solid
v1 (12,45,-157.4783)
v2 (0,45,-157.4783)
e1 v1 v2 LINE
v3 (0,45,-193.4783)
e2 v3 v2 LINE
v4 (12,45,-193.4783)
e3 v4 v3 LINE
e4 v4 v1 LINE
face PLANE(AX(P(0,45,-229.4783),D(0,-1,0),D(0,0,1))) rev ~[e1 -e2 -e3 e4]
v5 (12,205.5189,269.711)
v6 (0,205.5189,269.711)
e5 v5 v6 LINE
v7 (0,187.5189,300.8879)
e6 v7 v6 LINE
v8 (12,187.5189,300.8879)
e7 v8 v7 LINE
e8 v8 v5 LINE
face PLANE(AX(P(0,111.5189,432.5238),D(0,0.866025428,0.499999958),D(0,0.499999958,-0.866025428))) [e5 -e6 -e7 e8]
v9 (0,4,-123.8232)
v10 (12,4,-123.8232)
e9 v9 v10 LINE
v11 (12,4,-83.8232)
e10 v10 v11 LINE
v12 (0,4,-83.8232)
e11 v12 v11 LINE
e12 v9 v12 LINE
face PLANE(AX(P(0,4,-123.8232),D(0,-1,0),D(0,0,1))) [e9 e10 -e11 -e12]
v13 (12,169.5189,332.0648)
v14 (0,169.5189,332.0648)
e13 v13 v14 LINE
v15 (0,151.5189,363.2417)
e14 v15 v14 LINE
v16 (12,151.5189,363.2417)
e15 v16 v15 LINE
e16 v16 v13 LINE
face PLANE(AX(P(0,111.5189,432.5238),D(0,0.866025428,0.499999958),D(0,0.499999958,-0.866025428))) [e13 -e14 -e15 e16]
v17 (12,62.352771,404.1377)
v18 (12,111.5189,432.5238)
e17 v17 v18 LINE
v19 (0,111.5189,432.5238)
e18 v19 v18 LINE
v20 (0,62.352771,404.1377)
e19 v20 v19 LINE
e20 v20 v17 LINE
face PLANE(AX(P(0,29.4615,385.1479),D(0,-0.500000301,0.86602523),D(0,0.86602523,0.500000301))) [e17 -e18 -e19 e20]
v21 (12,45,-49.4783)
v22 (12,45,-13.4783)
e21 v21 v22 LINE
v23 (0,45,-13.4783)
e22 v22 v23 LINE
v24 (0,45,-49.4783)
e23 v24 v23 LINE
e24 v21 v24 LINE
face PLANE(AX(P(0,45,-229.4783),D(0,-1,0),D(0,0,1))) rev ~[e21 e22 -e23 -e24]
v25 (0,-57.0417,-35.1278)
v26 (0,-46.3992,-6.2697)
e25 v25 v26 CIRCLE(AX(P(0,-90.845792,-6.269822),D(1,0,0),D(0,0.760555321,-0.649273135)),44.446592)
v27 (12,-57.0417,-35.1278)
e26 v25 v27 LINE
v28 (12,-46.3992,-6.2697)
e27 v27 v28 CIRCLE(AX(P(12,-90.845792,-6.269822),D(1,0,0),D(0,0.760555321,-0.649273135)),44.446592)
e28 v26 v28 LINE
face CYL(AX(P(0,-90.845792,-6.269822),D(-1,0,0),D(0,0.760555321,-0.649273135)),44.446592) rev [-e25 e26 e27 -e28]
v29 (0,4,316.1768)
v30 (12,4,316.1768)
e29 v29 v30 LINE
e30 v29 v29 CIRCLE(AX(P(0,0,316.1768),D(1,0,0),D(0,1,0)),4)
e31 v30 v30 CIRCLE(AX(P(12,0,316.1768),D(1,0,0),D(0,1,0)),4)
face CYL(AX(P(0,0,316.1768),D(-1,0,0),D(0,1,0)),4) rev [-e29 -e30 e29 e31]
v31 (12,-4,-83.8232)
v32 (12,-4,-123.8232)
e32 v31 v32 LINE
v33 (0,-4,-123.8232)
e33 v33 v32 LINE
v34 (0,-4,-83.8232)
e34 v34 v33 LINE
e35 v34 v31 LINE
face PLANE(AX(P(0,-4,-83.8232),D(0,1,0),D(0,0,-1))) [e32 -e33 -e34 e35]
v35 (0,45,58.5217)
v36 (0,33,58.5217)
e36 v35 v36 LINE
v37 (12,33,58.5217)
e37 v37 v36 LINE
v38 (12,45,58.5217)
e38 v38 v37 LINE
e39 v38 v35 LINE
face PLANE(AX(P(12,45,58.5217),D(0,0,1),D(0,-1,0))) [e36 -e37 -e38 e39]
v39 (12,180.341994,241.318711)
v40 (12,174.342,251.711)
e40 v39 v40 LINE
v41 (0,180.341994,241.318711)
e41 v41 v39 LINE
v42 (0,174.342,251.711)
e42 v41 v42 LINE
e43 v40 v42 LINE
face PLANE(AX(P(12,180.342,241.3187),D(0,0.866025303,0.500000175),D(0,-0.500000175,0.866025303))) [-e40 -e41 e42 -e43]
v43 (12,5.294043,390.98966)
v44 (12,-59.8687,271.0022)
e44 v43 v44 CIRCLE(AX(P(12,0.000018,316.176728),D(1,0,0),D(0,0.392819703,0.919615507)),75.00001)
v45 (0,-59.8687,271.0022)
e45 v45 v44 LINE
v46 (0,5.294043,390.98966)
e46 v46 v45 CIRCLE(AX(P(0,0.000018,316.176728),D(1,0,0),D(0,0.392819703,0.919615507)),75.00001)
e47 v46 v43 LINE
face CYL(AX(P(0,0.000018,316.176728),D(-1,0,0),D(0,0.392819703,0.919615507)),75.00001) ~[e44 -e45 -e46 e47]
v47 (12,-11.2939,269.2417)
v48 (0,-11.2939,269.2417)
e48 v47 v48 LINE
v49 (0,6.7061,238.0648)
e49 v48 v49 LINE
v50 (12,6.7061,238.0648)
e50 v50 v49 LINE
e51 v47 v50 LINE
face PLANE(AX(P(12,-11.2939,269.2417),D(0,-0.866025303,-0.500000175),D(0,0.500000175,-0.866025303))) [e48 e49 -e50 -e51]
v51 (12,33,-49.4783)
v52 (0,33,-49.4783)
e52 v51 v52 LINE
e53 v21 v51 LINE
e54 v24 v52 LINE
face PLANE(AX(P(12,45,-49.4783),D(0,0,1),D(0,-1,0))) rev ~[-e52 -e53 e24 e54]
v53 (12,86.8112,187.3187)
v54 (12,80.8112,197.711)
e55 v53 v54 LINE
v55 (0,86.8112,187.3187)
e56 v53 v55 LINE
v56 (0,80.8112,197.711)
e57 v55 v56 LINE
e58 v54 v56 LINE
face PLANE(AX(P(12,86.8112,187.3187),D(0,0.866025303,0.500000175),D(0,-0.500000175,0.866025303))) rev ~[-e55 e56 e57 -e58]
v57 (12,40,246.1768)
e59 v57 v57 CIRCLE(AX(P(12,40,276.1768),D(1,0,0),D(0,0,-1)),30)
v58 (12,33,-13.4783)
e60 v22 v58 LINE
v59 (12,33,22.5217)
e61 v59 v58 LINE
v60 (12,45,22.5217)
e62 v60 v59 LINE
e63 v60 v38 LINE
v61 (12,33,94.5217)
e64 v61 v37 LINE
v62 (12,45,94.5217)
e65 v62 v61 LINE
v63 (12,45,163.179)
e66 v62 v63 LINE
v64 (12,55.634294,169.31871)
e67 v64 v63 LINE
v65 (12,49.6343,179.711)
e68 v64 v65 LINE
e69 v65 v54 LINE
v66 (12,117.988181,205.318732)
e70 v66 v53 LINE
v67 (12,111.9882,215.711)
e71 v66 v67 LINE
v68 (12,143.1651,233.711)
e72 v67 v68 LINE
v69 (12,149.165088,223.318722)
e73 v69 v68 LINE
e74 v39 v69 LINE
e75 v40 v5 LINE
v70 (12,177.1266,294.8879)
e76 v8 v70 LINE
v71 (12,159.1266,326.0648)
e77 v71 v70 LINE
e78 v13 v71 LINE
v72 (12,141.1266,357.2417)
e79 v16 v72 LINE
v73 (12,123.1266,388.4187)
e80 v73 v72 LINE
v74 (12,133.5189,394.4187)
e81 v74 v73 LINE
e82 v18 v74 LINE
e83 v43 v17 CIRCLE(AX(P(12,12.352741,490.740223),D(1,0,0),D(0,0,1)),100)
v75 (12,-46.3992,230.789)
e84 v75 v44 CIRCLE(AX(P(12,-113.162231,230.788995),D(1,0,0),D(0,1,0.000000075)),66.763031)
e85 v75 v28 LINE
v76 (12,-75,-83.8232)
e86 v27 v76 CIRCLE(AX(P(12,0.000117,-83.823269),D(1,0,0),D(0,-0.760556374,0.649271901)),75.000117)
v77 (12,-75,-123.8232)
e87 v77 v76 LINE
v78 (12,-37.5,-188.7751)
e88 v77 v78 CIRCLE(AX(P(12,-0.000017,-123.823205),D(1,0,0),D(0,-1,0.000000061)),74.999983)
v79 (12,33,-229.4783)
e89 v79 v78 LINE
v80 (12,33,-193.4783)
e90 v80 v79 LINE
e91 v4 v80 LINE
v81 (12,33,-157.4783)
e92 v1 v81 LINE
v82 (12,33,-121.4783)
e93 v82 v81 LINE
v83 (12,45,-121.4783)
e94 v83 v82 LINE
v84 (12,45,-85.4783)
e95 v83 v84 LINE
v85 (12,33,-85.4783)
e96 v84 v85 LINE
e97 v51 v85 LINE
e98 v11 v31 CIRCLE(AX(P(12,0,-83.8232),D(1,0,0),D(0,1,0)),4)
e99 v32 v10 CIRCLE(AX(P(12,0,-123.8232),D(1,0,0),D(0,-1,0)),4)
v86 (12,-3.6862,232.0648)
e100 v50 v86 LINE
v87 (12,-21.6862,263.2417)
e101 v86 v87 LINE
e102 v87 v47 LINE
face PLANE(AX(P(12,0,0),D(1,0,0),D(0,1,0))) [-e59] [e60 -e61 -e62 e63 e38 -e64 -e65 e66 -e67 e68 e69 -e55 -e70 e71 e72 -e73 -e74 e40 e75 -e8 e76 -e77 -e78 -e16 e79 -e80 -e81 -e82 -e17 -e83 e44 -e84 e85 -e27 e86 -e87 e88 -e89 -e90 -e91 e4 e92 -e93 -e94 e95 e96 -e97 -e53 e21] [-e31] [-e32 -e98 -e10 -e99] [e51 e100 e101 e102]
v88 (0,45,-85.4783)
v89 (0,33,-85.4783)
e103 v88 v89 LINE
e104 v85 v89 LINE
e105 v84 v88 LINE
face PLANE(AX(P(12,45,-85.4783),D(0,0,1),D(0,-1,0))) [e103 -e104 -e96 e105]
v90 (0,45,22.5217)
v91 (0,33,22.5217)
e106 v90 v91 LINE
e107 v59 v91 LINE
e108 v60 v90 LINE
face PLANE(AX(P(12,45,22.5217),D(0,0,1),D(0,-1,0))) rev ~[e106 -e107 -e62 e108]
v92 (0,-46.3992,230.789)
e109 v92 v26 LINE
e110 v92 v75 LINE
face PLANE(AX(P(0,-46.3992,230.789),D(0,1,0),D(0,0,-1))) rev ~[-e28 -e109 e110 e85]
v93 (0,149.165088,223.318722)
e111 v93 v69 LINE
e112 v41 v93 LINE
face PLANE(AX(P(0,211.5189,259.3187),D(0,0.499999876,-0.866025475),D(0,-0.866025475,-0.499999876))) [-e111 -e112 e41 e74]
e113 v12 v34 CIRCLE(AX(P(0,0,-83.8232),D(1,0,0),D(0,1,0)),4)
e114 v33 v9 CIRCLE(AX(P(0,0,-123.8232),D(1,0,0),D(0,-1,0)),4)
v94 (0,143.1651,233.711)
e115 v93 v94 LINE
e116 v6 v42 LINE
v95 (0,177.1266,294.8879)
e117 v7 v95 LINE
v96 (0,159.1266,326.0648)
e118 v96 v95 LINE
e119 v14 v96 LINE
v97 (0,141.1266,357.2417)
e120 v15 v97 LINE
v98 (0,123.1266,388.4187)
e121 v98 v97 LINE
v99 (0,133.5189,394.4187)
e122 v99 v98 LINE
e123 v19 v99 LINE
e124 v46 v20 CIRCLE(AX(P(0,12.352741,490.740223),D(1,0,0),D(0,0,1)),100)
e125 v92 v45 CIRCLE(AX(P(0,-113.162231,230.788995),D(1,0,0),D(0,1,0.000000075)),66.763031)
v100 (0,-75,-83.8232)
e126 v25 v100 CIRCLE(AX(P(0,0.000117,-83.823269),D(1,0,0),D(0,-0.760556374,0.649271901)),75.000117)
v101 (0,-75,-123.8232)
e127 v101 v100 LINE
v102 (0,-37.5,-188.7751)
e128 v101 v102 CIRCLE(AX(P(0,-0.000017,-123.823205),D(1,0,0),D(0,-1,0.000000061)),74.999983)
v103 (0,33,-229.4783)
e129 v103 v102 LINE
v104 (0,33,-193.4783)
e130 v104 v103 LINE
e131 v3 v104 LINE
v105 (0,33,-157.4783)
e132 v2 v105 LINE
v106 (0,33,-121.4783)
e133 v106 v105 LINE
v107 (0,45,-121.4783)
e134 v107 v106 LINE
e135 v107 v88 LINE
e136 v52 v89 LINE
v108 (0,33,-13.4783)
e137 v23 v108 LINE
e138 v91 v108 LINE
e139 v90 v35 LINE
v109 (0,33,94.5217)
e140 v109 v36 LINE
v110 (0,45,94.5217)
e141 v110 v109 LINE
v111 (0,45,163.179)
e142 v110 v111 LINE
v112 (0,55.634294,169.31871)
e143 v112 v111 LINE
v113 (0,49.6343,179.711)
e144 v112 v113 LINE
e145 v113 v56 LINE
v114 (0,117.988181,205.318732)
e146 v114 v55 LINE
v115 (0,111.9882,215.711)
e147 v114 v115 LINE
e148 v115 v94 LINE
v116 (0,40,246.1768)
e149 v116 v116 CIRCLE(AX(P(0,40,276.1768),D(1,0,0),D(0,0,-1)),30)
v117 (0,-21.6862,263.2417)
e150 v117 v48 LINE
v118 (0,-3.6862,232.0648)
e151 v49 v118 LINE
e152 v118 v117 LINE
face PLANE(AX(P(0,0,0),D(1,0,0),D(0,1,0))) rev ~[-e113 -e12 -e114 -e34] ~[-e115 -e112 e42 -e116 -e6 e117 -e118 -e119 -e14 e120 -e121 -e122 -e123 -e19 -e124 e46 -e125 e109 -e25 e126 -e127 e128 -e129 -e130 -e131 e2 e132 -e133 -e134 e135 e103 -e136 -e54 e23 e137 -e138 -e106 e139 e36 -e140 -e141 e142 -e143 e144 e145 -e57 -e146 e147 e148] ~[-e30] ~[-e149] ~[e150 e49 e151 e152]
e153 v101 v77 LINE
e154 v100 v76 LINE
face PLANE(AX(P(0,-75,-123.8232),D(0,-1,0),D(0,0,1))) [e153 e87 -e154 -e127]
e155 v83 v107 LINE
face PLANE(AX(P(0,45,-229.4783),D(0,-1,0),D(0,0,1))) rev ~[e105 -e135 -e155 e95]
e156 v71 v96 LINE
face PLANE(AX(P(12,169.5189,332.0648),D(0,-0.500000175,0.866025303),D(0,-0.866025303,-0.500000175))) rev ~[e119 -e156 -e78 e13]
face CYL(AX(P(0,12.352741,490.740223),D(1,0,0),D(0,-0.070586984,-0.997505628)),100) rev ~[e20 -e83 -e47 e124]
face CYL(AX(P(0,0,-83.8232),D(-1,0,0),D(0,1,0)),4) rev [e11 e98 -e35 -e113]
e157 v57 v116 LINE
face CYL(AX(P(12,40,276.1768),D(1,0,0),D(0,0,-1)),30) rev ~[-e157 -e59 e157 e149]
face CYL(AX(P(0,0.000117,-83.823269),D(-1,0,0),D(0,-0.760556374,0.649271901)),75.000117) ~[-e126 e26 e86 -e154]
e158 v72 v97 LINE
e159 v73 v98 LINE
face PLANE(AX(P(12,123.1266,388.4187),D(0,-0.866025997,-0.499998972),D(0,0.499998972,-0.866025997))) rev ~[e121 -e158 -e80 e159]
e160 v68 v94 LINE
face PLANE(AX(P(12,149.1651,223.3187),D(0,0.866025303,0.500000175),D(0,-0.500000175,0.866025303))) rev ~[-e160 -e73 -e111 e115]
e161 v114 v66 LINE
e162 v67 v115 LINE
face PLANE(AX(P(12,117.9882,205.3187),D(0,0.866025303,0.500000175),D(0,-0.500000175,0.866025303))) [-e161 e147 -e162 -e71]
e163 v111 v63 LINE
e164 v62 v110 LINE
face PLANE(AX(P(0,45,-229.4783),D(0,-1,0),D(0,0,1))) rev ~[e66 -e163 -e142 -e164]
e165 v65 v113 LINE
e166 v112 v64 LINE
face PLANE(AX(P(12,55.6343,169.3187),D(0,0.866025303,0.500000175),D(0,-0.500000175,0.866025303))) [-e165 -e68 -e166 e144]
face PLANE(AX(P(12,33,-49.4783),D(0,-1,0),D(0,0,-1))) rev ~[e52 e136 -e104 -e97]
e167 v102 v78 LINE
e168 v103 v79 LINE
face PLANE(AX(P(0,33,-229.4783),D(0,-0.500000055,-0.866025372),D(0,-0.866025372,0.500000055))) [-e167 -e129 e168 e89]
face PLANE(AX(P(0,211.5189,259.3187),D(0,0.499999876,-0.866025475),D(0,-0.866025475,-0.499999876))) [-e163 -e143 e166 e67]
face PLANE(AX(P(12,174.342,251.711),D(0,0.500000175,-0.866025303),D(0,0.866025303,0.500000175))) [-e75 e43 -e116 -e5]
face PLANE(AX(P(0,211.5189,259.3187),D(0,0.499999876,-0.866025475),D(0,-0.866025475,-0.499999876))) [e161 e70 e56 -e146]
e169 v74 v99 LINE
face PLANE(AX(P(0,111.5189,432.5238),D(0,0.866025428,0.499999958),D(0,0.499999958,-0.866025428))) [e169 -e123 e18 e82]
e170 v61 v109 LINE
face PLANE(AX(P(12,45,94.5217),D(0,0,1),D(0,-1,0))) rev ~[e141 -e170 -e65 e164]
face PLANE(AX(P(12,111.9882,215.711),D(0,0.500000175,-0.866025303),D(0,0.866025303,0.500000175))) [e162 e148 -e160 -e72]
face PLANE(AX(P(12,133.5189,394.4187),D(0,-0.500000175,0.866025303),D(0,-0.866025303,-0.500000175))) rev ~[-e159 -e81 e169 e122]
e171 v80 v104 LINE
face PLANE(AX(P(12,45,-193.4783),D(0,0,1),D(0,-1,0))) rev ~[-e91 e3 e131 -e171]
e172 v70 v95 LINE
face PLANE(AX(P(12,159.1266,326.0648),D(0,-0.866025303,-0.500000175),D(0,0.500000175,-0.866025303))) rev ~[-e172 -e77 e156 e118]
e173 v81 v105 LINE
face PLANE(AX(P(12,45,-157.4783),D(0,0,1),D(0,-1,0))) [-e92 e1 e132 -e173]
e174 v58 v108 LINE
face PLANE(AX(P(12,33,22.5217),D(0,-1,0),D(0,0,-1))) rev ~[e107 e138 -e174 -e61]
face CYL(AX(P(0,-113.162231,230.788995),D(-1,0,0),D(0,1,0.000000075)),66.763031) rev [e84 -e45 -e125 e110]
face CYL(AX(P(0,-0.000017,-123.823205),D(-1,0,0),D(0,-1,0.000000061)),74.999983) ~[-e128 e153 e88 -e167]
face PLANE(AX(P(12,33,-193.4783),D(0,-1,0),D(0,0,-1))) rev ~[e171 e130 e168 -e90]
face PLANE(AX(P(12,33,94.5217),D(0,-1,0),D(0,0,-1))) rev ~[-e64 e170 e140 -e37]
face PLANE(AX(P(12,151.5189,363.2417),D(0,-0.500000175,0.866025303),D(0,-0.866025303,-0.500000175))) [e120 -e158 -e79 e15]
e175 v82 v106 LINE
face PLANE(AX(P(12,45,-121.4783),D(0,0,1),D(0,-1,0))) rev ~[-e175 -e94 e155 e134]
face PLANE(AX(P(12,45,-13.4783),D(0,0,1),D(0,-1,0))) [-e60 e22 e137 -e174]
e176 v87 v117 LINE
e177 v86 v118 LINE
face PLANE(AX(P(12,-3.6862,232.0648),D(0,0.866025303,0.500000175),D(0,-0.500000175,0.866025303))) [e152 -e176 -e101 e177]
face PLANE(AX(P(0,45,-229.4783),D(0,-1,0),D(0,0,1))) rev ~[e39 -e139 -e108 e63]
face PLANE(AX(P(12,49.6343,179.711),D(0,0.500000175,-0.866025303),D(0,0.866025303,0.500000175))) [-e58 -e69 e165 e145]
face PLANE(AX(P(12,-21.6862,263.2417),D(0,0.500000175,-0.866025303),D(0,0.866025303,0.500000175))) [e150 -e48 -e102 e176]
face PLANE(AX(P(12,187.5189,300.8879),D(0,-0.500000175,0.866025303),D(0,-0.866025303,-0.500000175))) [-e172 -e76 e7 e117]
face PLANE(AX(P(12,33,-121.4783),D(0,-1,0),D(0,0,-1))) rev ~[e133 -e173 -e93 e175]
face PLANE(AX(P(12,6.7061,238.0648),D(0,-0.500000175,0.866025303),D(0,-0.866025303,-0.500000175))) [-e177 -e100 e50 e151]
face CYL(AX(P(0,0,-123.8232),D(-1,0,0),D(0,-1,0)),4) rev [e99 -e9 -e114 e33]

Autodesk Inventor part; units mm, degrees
ref_plane "YZ Plane" through (0, 0, 0) normal (1, 0, 0) x (0, 1, 0)
ref_plane "XZ Plane" through (0, 0, 0) normal (0, 1, 0) x (-1, 0, 0)
ref_plane "XY Plane" through (0, 0, 0) normal (0, 0, 1) x (1, 0, 0)
sketch "Sketch1" plane through (0, 0, 0) normal (1, 0, 0) x (0, 1, 0)
  circle A0 centre (0, 316.1768) radius 4
  line L0 (0, -83.8232) -> (0, -123.8232)
  line L1 (-4, -83.8232) -> (-4, -123.8232)
  line L2 (4, -123.8232) -> (4, -83.8232)
  arc A1 (4, -83.8232) -> (-4, -83.8232) centre (0, -83.8232) ccw
  arc A2 (-4, -123.8232) -> (4, -123.8232) centre (0, -123.8232) ccw
  arc A3 (29.4615, 385.1479) -> (-59.8687, 271.0022) centre (0, 316.1768) ccw construction
  line L3 (-75, -123.8232) -> (-75, -83.8232) construction
  line L4 (45, -142.4909) -> (45, -229.6533) construction
  arc A4 (-75, -123.8232) -> (-37.5, -188.7751) centre (0, -123.8232) ccw construction
  circle A5 centre (0, 316.1768) radius 115 construction
  line L5 (-115, -63.8232) -> (-115, -123.8232) construction
  arc A6 (-115, -123.8232) -> (115, -123.8232) centre (0, -123.8232) ccw construction
  line L6 (115, -123.8232) -> (115, -63.8232) construction
  arc A7 (115, -63.8232) -> (-115, -63.8232) centre (0, -83.8232) ccw construction
  line L7 (111.5189, 432.5238) -> (211.5189, 259.3187)
  line L8 (211.5189, 259.3187) -> (45, 163.179)
  circle A8 centre (0, 316.1768) radius 45 construction
  arc A9 (29.4615, 385.1479) -> (-59.8687, 271.0022) centre (0, 316.1768) ccw
  line L9 (-75, -123.8232) -> (-75, -83.8232)
  arc A10 (-57.0417, -35.1278) -> (-75, -83.8232) centre (0, -83.8232) ccw
  arc A11 (-75, -123.8232) -> (-37.5, -188.7751) centre (0, -123.8232) ccw
  line L10 (-46.3992, 230.789) -> (-46.3992, -6.2697)
  arc A12 (-46.3992, 230.789) -> (-59.8687, 271.0022) centre (-113.1622, 230.789) ccw
  arc A13 (-57.0417, -35.1278) -> (-46.3992, -6.2697) centre (-90.846, -6.2697) ccw
  line L11 (45, -229.4783) -> (45, 163.179)
  line L12 (43.5102, 150.8148) -> (13.9439, 202.0253) construction
  line L13 (-38.9711, 293.6768) -> (-61.4711, 332.6479) construction
  line L14 (-61.4711, 332.6479) -> (-22.5, 355.1479) construction
  line L15 (29.4615, 385.1479) -> (111.5189, 432.5238)
  line L16 (45, -229.4783) -> (33, -229.4783)
  line L17 (33, -229.4783) -> (-37.5, -188.7751)
  line L18 (45, 316.1768) -> (45, 281.1768) construction
  line L19 (-75, -123.8232) -> (-75, -83.8232) construction
  arc A14 (75, -83.8232) -> (-75, -83.8232) centre (0, -83.8232) ccw construction
  line L20 (75, -83.8232) -> (75, -123.8232) construction
  arc A15 (-75, -123.8232) -> (75, -123.8232) centre (0, -123.8232) ccw construction
  point P0 (0, 0)
  point P1 (0, -103.8232)
  dimension "d7" = 230
  dimension "d0" = 8
  dimension "d1" = 8
  dimension "d2" = 400
  dimension "d3" = 40
  dimension "d5" = 150
  dimension "d8" = 115
  dimension "d9" = 200
  dimension "d10" = 200
  dimension "d12" = 90
  dimension "d13" = 12
  dimension "d15" = 120
  dimension "d16" = 120
  dimension "d17" = 75
extrude "Extrusion1" add sketch "Sketch1" along normal blind 12
fillet "Fillet1" radius 100 1 edges at (6, 29.4615, 385.1479)
sketch "Sketch2" plane through (12, 0, 0) normal (1, 0, 0) x (0, 0, -1)
  line L0 (229.4783, 45) -> (-163.179, 45) construction
  line L1 (229.4783, 45) -> (193.4783, 45)
  line L2 (193.4783, 45) -> (193.4783, 33)
  line L3 (193.4783, 33) -> (229.4783, 33)
  line L4 (229.4783, 33) -> (229.4783, 45)
  line L5 (-163.179, 45) -> (-259.3187, 211.5189) construction
  line L6 (-432.5238, 111.5189) -> (-404.1377, 62.3528) construction
  line L7 (-259.3187, 211.5189) -> (-432.5238, 111.5189) construction
  line L8 (-432.5238, 111.5189) -> (-332.5238, -61.6862) construction
  line L9 (-332.5238, -61.6862) -> (-159.3187, 38.3138) construction
  line L10 (-159.3187, 38.3138) -> (-259.3187, 211.5189) construction
  line L11 (-259.3187, 211.5189) -> (-241.3187, 180.342)
  line L12 (-241.3187, 180.342) -> (-251.711, 174.342)
  line L13 (-251.711, 174.342) -> (-269.711, 205.5189)
  line L14 (-269.711, 205.5189) -> (-259.3187, 211.5189)
  line L15 (-432.5238, 111.5189) -> (-159.3187, 38.3138) construction
  line L16 (193.4783, 45) -> (157.4783, 45)
  line L17 (157.4783, 33) -> (193.4783, 33)
  line L18 (193.4783, 33) -> (193.4783, 45)
  line L19 (157.4783, 45) -> (157.4783, 33)
  line L20 (157.4783, 45) -> (121.4783, 45)
  line L21 (121.4783, 33) -> (157.4783, 33)
  line L22 (157.4783, 33) -> (157.4783, 45)
  line L23 (121.4783, 45) -> (121.4783, 33)
  line L24 (121.4783, 45) -> (85.4783, 45)
  line L25 (85.4783, 33) -> (121.4783, 33)
  line L26 (121.4783, 33) -> (121.4783, 45)
  line L27 (85.4783, 45) -> (85.4783, 33)
  line L28 (85.4783, 45) -> (49.4783, 45)
  line L29 (49.4783, 33) -> (85.4783, 33)
  line L30 (85.4783, 33) -> (85.4783, 45)
  line L31 (49.4783, 45) -> (49.4783, 33)
  line L32 (49.4783, 45) -> (13.4783, 45)
  line L33 (13.4783, 33) -> (49.4783, 33)
  line L34 (49.4783, 33) -> (49.4783, 45)
  line L35 (13.4783, 45) -> (13.4783, 33)
  line L36 (13.4783, 45) -> (-22.5217, 45)
  line L37 (-22.5217, 33) -> (13.4783, 33)
  line L38 (13.4783, 33) -> (13.4783, 45)
  line L39 (-22.5217, 45) -> (-22.5217, 33)
  line L40 (-22.5217, 45) -> (-58.5217, 45)
  line L41 (-58.5217, 33) -> (-22.5217, 33)
  line L42 (-22.5217, 33) -> (-22.5217, 45)
  line L43 (-58.5217, 45) -> (-58.5217, 33)
  line L44 (-58.5217, 45) -> (-94.5217, 45)
  line L45 (-94.5217, 33) -> (-58.5217, 33)
  line L46 (-58.5217, 33) -> (-58.5217, 45)
  line L47 (-94.5217, 45) -> (-94.5217, 33)
  line L48 (-94.5217, 45) -> (-130.5217, 45)
  line L49 (-130.5217, 33) -> (-94.5217, 33)
  line L50 (-94.5217, 33) -> (-94.5217, 45)
  line L51 (-130.5217, 45) -> (-130.5217, 33)
  line L52 (-130.5217, 45) -> (-166.5217, 45)
  line L53 (-166.5217, 33) -> (-130.5217, 33)
  line L54 (-130.5217, 33) -> (-130.5217, 45)
  line L55 (-166.5217, 45) -> (-166.5217, 33)
  line L56 (-166.5217, 45) -> (-202.5217, 45)
  line L57 (-202.5217, 33) -> (-166.5217, 33)
  line L58 (-166.5217, 33) -> (-166.5217, 45)
  line L59 (-202.5217, 45) -> (-202.5217, 33)
  line L60 (-251.711, 174.342) -> (-241.3187, 180.342)
  line L61 (-233.711, 143.1651) -> (-251.711, 174.342)
  line L62 (-241.3187, 180.342) -> (-223.3187, 149.1651)
  line L63 (-223.3187, 149.1651) -> (-233.711, 143.1651)
  line L64 (-233.711, 143.1651) -> (-223.3187, 149.1651)
  line L65 (-215.711, 111.9882) -> (-233.711, 143.1651)
  line L66 (-223.3187, 149.1651) -> (-205.3187, 117.9882)
  line L67 (-205.3187, 117.9882) -> (-215.711, 111.9882)
  line L68 (-215.711, 111.9882) -> (-205.3187, 117.9882)
  line L69 (-197.711, 80.8112) -> (-215.711, 111.9882)
  line L70 (-205.3187, 117.9882) -> (-187.3187, 86.8112)
  line L71 (-187.3187, 86.8112) -> (-197.711, 80.8112)
  line L72 (-197.711, 80.8112) -> (-187.3187, 86.8112)
  line L73 (-179.711, 49.6343) -> (-197.711, 80.8112)
  line L74 (-187.3187, 86.8112) -> (-169.3187, 55.6343)
  line L75 (-169.3187, 55.6343) -> (-179.711, 49.6343)
  line L76 (-259.3187, 211.5189) -> (-432.5238, 111.5189) projected
  line L77 (-269.711, 205.5189) -> (-300.8879, 187.5189)
  line L78 (-300.8879, 187.5189) -> (-294.8879, 177.1266)
  line L79 (-294.8879, 177.1266) -> (-263.711, 195.1266)
  line L80 (-263.711, 195.1266) -> (-269.711, 205.5189)
  line L81 (-294.8879, 177.1266) -> (-300.8879, 187.5189)
  line L82 (-326.0648, 159.1266) -> (-294.8879, 177.1266)
  line L83 (-300.8879, 187.5189) -> (-332.0648, 169.5189)
  line L84 (-332.0648, 169.5189) -> (-326.0648, 159.1266)
  line L85 (-290.4956, 193.5189) -> (-463.7007, 93.5189) construction
  line L86 (-326.0648, 159.1266) -> (-332.0648, 169.5189)
  line L87 (-357.2417, 141.1266) -> (-326.0648, 159.1266)
  line L88 (-332.0648, 169.5189) -> (-363.2417, 151.5189)
  line L89 (-363.2417, 151.5189) -> (-357.2417, 141.1266)
  line L90 (-321.6725, 175.5189) -> (-494.8776, 75.5189) construction
  line L91 (-357.2417, 141.1266) -> (-363.2417, 151.5189)
  line L92 (-388.4187, 123.1266) -> (-357.2417, 141.1266)
  line L93 (-363.2417, 151.5189) -> (-394.4187, 133.5189)
  line L94 (-394.4187, 133.5189) -> (-388.4187, 123.1266)
  line L95 (-352.8494, 157.5189) -> (-526.0545, 57.5189) construction
  line L96 (-388.4187, 123.1266) -> (-394.4187, 133.5189)
  line L97 (-419.5956, 105.1266) -> (-388.4187, 123.1266)
  line L98 (-394.4187, 133.5189) -> (-425.5956, 115.5189)
  line L99 (-425.5956, 115.5189) -> (-419.5956, 105.1266)
  line L100 (-384.0264, 139.5189) -> (-557.2314, 39.5189) construction
  line L101 (-232.0648, -3.6862) -> (-263.2417, -21.6862)
  line L102 (-263.2417, -21.6862) -> (-269.2417, -11.2939)
  line L103 (-269.2417, -11.2939) -> (-238.0648, 6.7061)
  line L104 (-238.0648, 6.7061) -> (-232.0648, -3.6862)
  circle A0 centre (-276.1768, 40) radius 30
  circle A1 centre (-316.1768, 0) radius 4 projected
  point P0 (-295.9212, 74.9164)
  dimension "d21" = 12
  dimension "d22" = 36
  dimension "d26" = 200
  dimension "d27" = 12
  dimension "d28" = 36
  dimension "d31" = 36
  dimension "d38" = 36
  dimension "d45" = 12
  dimension "d46" = 36
  dimension "d49" = 36
  dimension "d54" = 60
  dimension "d55" = 40
  dimension "d56" = 40
  dimension "d57" = 12
extrude "Extrusion2" cut sketch "Sketch2" against normal blind 12 contours L4 L3 L2 L1 | L19 L21 L23 L20 | L27 L29 L31 L28 | L35 L37 L39 L36 | L43 L45 L47 L44 | L11 L12 L13 L14 | L66 L67 L65 L63 | L78 L82 L84 L76 | L74 L75 L73 L71 | L89 L92 L94 L76 | L101 L102 L103 L104 | A0
sketch "Sketch3" plane through (12, 0, 0) normal (1, 0, 0) x (0, 0, -1)
  line L0 (-326.0648, 159.1266) -> (-332.0648, 169.5189) projected
  line L1 (-332.0648, 169.5189) -> (-363.2417, 151.5189) projected
  line L2 (-363.2417, 151.5189) -> (-357.2417, 141.1266) projected
  line L3 (-357.2417, 141.1266) -> (-388.4187, 123.1266) projected
  line L4 (-388.4187, 123.1266) -> (-394.4187, 133.5189) projected
  line L5 (-394.4187, 133.5189) -> (-432.5238, 111.5189) projected
  line L6 (-432.5238, 111.5189) -> (-404.1377, 62.3528) projected
  arc A0 (-390.9897, 5.2941) -> (-404.1377, 62.3528) centre (-490.7403, 12.3528) ccw projected
  arc A1 (-390.9897, 5.2941) -> (-271.0022, -59.8687) centre (-316.1768, 0) ccw projected
  arc A2 (-230.789, -46.3992) -> (-271.0022, -59.8687) centre (-230.789, -113.1622) ccw projected
  line L7 (-230.789, -46.3992) -> (6.2697, -46.3992) projected
  arc A3 (35.1278, -57.0417) -> (6.2697, -46.3992) centre (6.2697, -90.846) ccw projected
  arc A4 (35.1278, -57.0417) -> (83.8232, -75) centre (83.8232, 0) ccw projected
  line L8 (83.8232, -75) -> (123.8232, -75) projected
  arc A5 (123.8232, -75) -> (188.7751, -37.5) centre (123.8232, 0) ccw projected
  line L9 (188.7751, -37.5) -> (229.4783, 33) projected
  line L10 (229.4783, 33) -> (193.4783, 33) projected
  line L11 (193.4783, 33) -> (193.4783, 45) projected
  line L12 (193.4783, 45) -> (157.4783, 45) projected
  line L13 (157.4783, 45) -> (157.4783, 33) projected
  line L14 (157.4783, 33) -> (121.4783, 33) projected
  line L15 (121.4783, 33) -> (121.4783, 45) projected
  line L16 (121.4783, 45) -> (85.4783, 45) projected
  line L17 (85.4783, 45) -> (85.4783, 33) projected
  line L18 (85.4783, 33) -> (49.4783, 33) projected
  line L19 (49.4783, 33) -> (49.4783, 45) projected
  line L20 (49.4783, 45) -> (13.4783, 45) projected
  line L21 (13.4783, 45) -> (13.4783, 33) projected
  line L22 (13.4783, 33) -> (-22.5217, 33) projected
  line L23 (-22.5217, 33) -> (-22.5217, 45) projected
  line L24 (-22.5217, 45) -> (-58.5217, 45) projected
  line L25 (-58.5217, 45) -> (-58.5217, 33) projected
  line L26 (-58.5217, 33) -> (-94.5217, 33) projected
  line L27 (-94.5217, 33) -> (-94.5217, 45) projected
  line L28 (-94.5217, 45) -> (-163.179, 45) projected
  line L29 (-163.179, 45) -> (-169.3187, 55.6343) projected
  line L30 (-169.3187, 55.6343) -> (-179.711, 49.6343) projected
  line L31 (-179.711, 49.6343) -> (-197.711, 80.8112) projected
  line L32 (-197.711, 80.8112) -> (-187.3187, 86.8112) projected
  line L33 (-187.3187, 86.8112) -> (-205.3187, 117.9882) projected
  line L34 (-205.3187, 117.9882) -> (-215.711, 111.9882) projected
  line L35 (-215.711, 111.9882) -> (-233.711, 143.1651) projected
  line L36 (-233.711, 143.1651) -> (-223.3187, 149.1651) projected
  line L37 (-223.3187, 149.1651) -> (-241.3187, 180.342) projected
  line L38 (-241.3187, 180.342) -> (-251.711, 174.342) projected
  line L39 (-251.711, 174.342) -> (-269.711, 205.5189) projected
  line L40 (-269.711, 205.5189) -> (-300.8879, 187.5189) projected
  line L41 (-300.8879, 187.5189) -> (-294.8879, 177.1266) projected
  line L42 (-294.8879, 177.1266) -> (-326.0648, 159.1266) projected
  line L43 (-238.0648, 6.7061) -> (-232.0648, -3.6862) projected
  line L44 (-232.0648, -3.6862) -> (-263.2417, -21.6862) projected
  line L45 (-263.2417, -21.6862) -> (-269.2417, -11.2939) projected
  line L46 (-269.2417, -11.2939) -> (-238.0648, 6.7061) projected
  circle A6 centre (-276.1768, 40) radius 30 projected
  line L47 (83.8232, 4) -> (123.8232, 4) projected
  arc A7 (123.8232, -4) -> (123.8232, 4) centre (123.8232, 0) ccw projected
  line L48 (123.8232, -4) -> (83.8232, -4) projected
  arc A8 (83.8232, 4) -> (83.8232, -4) centre (83.8232, 0) ccw projected
  circle A9 centre (-316.1768, 0) radius 4 projected
  point P0 (0, 0)
equation "\"d8\" = 0.5 * d7"
equation "\"wood_thickness\" = 12"
properties part number "wooden_side"
